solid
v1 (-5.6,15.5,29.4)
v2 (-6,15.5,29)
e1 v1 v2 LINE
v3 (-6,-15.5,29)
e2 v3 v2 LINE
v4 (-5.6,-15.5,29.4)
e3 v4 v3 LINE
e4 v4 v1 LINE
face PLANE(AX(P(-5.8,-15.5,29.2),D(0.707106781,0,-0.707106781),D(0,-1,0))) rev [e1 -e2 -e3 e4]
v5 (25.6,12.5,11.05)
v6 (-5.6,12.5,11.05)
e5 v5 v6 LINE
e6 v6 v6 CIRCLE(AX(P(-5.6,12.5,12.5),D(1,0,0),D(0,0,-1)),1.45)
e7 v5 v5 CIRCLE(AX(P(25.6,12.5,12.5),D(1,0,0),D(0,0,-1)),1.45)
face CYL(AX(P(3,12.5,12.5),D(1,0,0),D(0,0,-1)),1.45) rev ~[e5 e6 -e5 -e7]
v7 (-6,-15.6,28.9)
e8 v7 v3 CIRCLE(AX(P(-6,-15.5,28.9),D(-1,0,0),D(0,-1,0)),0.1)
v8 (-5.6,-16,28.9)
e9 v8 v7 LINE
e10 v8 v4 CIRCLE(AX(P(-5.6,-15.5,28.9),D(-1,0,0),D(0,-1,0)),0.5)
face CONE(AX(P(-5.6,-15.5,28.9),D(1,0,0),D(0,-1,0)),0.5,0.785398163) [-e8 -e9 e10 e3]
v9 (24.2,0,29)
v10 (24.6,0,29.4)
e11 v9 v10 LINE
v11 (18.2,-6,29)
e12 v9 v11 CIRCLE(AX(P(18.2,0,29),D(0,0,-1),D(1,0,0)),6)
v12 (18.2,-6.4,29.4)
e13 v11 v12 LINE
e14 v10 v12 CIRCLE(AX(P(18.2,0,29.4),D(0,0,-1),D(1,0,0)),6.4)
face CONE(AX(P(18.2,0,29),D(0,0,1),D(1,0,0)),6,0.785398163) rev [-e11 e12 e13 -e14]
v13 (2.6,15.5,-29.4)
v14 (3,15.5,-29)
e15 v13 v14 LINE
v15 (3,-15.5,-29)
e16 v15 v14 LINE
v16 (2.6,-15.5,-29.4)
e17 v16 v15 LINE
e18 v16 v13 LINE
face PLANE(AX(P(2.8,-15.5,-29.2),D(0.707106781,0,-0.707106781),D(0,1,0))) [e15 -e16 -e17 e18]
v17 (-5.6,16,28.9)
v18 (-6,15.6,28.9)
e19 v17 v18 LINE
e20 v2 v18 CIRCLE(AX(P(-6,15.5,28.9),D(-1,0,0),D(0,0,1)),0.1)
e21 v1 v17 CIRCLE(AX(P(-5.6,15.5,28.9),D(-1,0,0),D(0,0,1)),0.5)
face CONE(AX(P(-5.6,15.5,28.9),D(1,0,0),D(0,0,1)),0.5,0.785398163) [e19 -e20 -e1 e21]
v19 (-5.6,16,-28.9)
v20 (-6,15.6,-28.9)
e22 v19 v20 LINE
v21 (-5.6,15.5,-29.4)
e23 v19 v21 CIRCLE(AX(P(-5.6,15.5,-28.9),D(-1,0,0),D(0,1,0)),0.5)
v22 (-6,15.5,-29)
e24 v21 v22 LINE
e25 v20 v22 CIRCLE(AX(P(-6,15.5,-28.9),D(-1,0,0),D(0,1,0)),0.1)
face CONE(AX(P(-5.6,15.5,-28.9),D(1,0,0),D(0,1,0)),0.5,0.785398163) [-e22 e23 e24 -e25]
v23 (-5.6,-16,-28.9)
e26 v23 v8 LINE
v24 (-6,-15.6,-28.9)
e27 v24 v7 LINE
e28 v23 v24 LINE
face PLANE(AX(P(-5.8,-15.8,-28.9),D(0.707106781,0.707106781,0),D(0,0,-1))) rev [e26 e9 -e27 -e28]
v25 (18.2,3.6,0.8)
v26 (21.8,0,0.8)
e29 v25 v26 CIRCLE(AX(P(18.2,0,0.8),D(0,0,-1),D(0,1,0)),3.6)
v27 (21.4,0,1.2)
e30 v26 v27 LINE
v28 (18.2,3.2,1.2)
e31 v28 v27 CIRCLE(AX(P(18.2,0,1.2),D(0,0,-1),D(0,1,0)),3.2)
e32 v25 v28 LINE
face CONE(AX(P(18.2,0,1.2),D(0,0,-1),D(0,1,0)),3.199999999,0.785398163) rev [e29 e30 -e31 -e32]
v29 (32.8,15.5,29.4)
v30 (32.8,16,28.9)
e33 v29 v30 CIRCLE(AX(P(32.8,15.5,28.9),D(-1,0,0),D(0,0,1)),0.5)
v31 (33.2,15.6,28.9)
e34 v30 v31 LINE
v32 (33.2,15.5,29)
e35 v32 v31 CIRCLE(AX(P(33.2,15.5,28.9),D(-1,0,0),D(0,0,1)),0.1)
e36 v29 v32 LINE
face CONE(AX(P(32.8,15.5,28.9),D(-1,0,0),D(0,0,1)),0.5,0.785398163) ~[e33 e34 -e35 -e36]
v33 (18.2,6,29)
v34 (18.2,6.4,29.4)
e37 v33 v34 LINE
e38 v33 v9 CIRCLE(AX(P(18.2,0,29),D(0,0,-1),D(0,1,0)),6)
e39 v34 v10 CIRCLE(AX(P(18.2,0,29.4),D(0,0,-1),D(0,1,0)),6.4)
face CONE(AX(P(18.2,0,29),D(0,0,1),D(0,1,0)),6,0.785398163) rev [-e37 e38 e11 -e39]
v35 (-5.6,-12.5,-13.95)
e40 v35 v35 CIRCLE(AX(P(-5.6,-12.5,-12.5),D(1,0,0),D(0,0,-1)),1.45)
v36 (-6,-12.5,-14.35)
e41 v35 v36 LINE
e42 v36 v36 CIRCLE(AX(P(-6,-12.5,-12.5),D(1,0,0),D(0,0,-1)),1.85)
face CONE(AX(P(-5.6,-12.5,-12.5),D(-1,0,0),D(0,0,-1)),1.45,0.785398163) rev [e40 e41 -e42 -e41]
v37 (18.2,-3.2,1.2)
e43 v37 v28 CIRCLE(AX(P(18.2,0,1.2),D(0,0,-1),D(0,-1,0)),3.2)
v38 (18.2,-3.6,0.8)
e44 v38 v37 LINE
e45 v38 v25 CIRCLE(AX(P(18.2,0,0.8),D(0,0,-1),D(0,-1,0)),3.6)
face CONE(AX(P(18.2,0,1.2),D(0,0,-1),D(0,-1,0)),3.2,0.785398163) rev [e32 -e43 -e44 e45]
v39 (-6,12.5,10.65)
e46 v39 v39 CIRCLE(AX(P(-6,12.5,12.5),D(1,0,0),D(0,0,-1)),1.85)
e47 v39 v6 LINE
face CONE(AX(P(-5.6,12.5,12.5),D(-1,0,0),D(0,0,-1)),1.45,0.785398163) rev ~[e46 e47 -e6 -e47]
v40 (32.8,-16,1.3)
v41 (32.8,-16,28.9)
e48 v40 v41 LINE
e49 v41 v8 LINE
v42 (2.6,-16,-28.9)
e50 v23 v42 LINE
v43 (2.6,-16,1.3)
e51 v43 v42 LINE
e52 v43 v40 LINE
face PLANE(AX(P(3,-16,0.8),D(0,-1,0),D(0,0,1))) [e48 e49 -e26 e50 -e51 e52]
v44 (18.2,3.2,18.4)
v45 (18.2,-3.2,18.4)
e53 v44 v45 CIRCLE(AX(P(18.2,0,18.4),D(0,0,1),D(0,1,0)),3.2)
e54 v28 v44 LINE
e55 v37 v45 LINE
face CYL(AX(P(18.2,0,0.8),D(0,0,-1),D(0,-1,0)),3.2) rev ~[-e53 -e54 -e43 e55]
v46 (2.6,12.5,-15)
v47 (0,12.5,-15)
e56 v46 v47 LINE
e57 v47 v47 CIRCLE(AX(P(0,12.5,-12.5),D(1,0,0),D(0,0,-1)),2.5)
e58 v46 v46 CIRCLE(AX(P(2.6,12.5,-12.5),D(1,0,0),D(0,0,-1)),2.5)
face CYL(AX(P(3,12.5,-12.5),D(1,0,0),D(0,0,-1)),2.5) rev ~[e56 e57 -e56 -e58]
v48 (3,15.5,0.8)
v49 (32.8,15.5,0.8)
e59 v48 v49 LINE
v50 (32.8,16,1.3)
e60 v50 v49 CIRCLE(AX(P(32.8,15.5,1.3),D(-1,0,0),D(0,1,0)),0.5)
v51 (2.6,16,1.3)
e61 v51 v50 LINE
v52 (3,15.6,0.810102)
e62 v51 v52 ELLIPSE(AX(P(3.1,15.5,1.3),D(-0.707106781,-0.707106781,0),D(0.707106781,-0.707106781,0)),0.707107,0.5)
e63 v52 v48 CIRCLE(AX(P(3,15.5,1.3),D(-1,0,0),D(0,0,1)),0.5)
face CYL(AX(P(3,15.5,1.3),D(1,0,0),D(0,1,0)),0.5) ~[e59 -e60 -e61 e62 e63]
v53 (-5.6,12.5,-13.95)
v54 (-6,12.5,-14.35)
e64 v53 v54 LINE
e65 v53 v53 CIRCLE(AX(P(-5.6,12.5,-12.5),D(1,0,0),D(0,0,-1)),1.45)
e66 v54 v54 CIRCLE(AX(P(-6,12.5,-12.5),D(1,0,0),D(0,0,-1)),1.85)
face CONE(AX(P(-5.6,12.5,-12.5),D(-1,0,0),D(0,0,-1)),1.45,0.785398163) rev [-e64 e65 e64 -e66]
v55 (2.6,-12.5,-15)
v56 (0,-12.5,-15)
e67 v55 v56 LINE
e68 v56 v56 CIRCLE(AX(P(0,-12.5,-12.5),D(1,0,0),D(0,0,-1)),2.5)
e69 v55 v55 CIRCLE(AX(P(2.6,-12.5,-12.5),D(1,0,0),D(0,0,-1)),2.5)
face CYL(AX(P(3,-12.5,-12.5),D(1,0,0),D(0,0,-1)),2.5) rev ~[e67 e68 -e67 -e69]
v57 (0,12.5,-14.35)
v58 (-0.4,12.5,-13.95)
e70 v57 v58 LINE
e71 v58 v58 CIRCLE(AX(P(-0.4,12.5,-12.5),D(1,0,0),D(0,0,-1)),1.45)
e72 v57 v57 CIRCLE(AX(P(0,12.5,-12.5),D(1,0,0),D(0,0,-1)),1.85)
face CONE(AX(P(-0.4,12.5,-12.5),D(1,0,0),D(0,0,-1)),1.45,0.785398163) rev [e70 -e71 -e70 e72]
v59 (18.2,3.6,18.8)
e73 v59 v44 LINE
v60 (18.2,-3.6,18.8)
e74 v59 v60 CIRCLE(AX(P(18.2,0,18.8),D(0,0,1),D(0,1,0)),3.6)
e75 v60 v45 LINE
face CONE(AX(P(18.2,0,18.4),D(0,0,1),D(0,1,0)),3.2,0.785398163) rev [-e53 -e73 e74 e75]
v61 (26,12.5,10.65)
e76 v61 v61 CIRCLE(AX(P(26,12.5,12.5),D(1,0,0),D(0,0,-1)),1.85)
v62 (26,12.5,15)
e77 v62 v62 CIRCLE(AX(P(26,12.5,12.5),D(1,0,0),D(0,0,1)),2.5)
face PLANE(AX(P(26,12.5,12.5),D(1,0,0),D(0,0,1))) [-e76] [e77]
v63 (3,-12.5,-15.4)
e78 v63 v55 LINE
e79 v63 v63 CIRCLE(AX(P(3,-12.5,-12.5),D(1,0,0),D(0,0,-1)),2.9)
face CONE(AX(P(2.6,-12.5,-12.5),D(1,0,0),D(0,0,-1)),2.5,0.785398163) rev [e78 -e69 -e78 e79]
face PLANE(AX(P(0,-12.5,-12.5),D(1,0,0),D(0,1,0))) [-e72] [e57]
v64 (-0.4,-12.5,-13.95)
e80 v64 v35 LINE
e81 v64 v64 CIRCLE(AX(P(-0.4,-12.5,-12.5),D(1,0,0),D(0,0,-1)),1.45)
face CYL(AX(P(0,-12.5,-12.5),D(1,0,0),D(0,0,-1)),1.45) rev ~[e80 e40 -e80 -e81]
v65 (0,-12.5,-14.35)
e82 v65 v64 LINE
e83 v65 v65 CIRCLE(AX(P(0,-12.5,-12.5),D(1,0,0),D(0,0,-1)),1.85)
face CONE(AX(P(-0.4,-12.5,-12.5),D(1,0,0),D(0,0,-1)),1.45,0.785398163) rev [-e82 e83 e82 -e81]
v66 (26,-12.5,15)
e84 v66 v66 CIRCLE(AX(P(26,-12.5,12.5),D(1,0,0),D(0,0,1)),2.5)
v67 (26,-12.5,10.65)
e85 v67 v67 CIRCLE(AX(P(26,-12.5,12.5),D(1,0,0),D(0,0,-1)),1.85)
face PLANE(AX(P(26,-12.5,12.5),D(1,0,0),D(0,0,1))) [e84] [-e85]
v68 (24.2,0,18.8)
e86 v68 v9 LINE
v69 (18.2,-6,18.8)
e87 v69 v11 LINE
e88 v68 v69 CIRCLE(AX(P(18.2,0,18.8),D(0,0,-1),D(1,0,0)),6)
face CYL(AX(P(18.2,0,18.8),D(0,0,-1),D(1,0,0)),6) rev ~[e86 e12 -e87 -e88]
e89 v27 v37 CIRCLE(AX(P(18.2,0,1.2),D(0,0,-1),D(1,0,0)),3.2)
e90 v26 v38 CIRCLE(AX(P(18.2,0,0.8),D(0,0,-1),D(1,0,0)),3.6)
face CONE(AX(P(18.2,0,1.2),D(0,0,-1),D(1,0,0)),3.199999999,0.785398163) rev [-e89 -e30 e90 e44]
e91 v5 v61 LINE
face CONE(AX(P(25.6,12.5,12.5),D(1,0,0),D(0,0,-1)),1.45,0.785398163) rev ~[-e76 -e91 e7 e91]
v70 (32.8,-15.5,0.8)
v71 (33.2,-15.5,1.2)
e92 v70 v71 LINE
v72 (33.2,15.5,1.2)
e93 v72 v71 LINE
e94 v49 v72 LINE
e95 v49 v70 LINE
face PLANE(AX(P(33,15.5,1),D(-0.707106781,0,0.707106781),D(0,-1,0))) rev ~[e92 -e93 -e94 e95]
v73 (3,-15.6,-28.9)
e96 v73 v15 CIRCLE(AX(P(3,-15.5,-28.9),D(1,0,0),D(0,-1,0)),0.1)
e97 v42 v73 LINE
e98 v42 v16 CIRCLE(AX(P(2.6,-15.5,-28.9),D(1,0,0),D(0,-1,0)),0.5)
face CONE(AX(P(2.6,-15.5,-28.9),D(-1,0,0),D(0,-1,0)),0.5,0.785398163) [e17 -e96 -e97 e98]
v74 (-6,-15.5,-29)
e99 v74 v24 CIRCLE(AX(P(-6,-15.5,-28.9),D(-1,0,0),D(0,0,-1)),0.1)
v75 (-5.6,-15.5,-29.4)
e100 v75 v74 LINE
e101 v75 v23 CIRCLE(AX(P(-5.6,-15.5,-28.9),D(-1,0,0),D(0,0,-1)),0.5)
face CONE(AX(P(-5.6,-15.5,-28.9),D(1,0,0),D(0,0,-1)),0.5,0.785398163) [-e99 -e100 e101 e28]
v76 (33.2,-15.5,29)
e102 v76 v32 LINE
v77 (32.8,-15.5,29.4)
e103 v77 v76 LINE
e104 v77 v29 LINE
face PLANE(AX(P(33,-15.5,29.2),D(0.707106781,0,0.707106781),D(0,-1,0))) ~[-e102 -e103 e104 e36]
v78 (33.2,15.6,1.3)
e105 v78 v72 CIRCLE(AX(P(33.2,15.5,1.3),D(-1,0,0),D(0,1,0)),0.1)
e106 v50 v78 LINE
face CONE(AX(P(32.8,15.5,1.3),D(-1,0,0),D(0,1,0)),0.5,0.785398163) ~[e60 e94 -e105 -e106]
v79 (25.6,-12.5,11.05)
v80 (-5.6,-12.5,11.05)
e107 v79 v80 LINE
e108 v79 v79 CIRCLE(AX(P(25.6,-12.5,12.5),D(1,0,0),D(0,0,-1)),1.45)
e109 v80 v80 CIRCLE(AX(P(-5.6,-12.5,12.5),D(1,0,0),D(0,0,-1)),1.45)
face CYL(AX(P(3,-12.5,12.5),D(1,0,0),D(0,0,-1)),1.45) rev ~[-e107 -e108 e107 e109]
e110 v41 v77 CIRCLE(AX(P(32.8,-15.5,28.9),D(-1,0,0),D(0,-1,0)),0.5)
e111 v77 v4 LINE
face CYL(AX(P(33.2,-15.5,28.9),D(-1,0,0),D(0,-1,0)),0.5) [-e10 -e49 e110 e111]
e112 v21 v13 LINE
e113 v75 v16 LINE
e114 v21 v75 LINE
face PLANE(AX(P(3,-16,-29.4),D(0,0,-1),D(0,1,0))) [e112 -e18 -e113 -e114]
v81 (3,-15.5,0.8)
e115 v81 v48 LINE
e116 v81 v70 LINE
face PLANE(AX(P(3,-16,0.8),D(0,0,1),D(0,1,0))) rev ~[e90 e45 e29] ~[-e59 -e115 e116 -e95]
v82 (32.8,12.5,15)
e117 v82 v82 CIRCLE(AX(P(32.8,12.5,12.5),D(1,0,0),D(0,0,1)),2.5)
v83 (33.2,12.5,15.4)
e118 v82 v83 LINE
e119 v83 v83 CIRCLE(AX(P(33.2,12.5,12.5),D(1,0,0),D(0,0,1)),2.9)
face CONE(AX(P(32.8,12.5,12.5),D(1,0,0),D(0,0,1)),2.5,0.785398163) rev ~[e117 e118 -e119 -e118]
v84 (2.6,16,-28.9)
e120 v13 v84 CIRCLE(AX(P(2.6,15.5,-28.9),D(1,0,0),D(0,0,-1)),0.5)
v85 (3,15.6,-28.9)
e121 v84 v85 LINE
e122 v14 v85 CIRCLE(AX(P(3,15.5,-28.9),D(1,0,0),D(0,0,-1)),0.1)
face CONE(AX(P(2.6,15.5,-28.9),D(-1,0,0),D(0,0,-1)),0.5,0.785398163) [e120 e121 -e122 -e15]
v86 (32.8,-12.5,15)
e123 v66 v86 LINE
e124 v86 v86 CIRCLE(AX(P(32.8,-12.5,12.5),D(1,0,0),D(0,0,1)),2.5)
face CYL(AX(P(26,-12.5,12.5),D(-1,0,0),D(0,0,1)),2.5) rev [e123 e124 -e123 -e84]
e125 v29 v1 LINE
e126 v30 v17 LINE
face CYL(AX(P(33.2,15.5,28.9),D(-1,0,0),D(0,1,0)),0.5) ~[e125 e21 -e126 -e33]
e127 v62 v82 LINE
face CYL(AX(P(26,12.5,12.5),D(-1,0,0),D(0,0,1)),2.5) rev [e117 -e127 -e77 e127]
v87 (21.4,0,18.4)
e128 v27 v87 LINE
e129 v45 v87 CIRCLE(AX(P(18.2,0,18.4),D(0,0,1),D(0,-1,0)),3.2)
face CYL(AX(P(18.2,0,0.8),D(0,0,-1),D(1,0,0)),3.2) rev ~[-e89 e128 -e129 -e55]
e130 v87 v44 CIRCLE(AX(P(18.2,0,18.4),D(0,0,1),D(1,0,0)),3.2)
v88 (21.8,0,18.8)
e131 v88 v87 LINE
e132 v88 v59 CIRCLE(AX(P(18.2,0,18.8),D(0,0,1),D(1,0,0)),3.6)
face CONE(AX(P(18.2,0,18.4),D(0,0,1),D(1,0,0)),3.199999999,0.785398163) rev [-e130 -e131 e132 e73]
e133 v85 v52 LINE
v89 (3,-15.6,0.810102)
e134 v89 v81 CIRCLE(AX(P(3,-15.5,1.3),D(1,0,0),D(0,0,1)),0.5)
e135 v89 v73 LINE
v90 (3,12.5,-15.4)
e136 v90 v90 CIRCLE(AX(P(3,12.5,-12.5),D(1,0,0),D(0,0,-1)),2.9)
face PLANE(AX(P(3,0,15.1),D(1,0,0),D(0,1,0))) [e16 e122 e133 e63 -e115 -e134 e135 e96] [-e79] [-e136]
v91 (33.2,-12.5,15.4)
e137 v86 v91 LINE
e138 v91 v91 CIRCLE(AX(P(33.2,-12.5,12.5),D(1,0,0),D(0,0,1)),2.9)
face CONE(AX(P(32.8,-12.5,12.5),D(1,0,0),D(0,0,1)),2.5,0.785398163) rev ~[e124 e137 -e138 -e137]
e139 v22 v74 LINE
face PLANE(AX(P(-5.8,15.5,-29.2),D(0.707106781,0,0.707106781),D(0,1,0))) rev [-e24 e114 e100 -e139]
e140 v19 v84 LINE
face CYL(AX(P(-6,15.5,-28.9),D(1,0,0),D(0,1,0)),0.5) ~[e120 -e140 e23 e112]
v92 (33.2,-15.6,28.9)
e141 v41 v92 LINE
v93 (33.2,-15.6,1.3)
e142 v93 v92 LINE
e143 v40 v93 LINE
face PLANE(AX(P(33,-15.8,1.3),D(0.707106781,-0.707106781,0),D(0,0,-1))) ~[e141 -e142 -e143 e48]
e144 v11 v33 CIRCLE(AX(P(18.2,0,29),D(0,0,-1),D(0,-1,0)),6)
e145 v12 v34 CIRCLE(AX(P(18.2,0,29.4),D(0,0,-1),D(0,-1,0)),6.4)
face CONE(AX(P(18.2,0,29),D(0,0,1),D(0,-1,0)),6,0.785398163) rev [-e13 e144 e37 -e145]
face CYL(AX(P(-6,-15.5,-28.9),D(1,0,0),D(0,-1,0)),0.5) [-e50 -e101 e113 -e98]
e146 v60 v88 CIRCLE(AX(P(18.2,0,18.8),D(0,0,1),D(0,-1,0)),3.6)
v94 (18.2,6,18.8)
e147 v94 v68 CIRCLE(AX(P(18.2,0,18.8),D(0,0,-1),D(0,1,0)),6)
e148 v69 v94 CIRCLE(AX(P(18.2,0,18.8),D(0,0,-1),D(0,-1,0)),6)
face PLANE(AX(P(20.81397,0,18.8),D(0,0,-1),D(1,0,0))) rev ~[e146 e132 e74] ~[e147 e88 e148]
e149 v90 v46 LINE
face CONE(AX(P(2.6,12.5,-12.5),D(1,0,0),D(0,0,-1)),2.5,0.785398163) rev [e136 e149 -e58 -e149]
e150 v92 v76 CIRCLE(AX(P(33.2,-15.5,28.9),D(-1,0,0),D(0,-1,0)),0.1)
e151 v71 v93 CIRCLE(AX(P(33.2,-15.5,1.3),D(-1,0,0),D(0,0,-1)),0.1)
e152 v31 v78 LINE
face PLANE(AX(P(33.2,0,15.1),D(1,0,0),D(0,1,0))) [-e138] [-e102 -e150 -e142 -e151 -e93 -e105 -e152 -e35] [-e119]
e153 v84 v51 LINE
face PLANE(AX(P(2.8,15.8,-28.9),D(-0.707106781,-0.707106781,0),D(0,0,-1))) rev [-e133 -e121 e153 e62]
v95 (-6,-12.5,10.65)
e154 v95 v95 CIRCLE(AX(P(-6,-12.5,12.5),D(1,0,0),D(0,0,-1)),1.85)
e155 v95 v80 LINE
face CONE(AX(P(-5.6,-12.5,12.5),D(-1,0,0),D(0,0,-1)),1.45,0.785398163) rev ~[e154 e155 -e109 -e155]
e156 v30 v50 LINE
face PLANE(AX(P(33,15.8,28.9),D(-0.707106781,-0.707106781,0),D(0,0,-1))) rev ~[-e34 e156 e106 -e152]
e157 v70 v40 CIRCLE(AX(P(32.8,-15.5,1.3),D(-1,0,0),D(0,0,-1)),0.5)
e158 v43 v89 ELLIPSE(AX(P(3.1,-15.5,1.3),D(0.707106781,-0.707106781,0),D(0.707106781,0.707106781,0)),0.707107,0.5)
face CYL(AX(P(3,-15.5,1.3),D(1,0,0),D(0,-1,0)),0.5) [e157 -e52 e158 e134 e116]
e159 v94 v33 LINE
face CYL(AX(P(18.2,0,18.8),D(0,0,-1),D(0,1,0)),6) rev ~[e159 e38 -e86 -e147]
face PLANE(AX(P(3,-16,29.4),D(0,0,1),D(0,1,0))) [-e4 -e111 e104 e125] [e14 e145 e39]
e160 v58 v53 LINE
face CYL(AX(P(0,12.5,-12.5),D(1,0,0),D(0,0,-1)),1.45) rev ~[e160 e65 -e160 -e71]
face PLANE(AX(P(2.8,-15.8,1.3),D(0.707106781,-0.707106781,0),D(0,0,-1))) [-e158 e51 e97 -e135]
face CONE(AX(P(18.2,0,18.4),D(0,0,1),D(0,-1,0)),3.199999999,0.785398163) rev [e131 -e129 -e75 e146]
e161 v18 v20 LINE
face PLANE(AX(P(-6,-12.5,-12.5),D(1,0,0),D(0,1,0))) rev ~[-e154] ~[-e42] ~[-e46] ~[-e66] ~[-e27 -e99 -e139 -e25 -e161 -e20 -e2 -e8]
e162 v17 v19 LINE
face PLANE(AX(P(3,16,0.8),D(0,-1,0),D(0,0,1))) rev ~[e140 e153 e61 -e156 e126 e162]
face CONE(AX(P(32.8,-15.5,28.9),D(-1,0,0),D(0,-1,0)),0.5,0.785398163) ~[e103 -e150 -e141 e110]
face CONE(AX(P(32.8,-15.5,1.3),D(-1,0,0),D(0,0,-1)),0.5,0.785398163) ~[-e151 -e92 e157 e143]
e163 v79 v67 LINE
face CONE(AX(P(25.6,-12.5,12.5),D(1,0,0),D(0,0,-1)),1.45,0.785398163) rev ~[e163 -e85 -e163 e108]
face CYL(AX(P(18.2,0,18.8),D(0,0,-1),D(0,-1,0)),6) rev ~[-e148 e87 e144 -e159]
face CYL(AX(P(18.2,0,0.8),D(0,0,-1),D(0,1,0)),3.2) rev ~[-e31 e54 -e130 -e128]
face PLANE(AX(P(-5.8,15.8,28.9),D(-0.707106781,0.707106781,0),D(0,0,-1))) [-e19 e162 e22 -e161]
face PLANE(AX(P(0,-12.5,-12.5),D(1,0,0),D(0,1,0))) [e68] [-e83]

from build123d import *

# Parameters (mm, degrees)
SKETCH1_W           = 32
SKETCH1_H           = 28.6
SKETCH1_R           = 2.5
SKETCH1_H_2         = 30.2
SKETCH1_R_2         = 1.45
BOSS_EXTRUDE1_DEPTH = 6
BOSS_EXTRUDE2_START = 3
SKETCH1_4_W         = 32
SKETCH1_4_H         = 28.6
SKETCH1_4_R         = 2.5
SKETCH1_4_H_2       = 30.2
SKETCH1_4_R_2       = 1.45
BOSS_EXTRUDE2_DEPTH = 3
BOSS_EXTRUDE3_START = 3
SKETCH1_5_W         = 32
SKETCH1_5_H         = 28.6
SKETCH1_5_R         = 2.5
SKETCH1_5_R_2       = 1.45
BOSS_EXTRUDE3_DEPTH = 30.2
CUT_EXTRUDE1_DEPTH  = 48.647455336
CUT_EXTRUDE2_START  = -18
CUT_EXTRUDE2_DEPTH  = 30.647455336
CUT_EXTRUDE3_START  = 26
SKETCH1_6_R         = 2.5
SKETCH1_6_R_2       = 1.45
CUT_EXTRUDE3_DEPTH  = 7.2
FILLET1_R           = 0.5
CHAMFER1_SIZE       = 0.4


with BuildPart() as part:
    # Sketch1 → Boss-Extrude1 (new body)
    # profile 1 of 6: a face of its own
    with BuildSketch(Plane.YZ):
        with Locations((0, 15.1)):
            Rectangle(SKETCH1_W, SKETCH1_H)
        with Locations((-12.5, 12.5)):
            Circle(SKETCH1_R, mode=Mode.SUBTRACT)
        with Locations((12.5, 12.5)):
            Circle(SKETCH1_R, mode=Mode.SUBTRACT)
    # profile 2 of 6: a face of its own
    with BuildSketch(Plane.YZ):
        with Locations((0, -14.3)):
            Rectangle(SKETCH1_W, SKETCH1_H_2)
        with Locations((-12.5, -12.5)):
            Circle(SKETCH1_R, mode=Mode.SUBTRACT)
        with Locations((12.5, -12.5)):
            Circle(SKETCH1_R, mode=Mode.SUBTRACT)
    # profile 3 of 6: a face of its own
    with BuildSketch(Plane.YZ):
        with Locations((-12.5, 12.5)):
            Circle(SKETCH1_R)
        with Locations(Location((-12.5, 12.5, 0), (0, 0, 270))):
            Circle(SKETCH1_R_2, mode=Mode.SUBTRACT)
    # profile 4 of 6: a face of its own
    with BuildSketch(Plane.YZ):
        with Locations((12.5, 12.5)):
            Circle(SKETCH1_R)
        with Locations(Location((12.5, 12.5, 0), (0, 0, 270))):
            Circle(SKETCH1_R_2, mode=Mode.SUBTRACT)
    # profile 5 of 6: a face of its own
    with BuildSketch(Plane.YZ):
        with Locations((12.5, -12.5)):
            Circle(SKETCH1_R)
        with Locations(Location((12.5, -12.5, 0), (0, 0, 270))):
            Circle(SKETCH1_R_2, mode=Mode.SUBTRACT)
    # profile 6 of 6: a face of its own
    with BuildSketch(Plane.YZ):
        with Locations((-12.5, -12.5)):
            Circle(SKETCH1_R)
        with Locations(Location((-12.5, -12.5, 0), (0, 0, 270))):
            Circle(SKETCH1_R_2, mode=Mode.SUBTRACT)
    extrude(amount=-BOSS_EXTRUDE1_DEPTH)

    # Sketch1<4> → Boss-Extrude2 (add)
    # profile 1 of 4: a face of its own
    with BuildSketch(Plane.YZ.offset(BOSS_EXTRUDE2_START)):
        with Locations((0, 15.1)):
            Rectangle(SKETCH1_4_W, SKETCH1_4_H)
        with Locations((-12.5, 12.5)):
            Circle(SKETCH1_4_R, mode=Mode.SUBTRACT)
        with Locations((12.5, 12.5)):
            Circle(SKETCH1_4_R, mode=Mode.SUBTRACT)
    # profile 2 of 4: a face of its own
    with BuildSketch(Plane.YZ.offset(BOSS_EXTRUDE2_START)):
        with Locations((0, -14.3)):
            Rectangle(SKETCH1_4_W, SKETCH1_4_H_2)
        with Locations(Location((-12.5, -12.5, 0), (0, 0, 270))):
            Circle(SKETCH1_4_R, mode=Mode.SUBTRACT)
        with Locations(Location((12.5, -12.5, 0), (0, 0, 270))):
            Circle(SKETCH1_4_R, mode=Mode.SUBTRACT)
    # profile 3 of 4: a face of its own
    with BuildSketch(Plane.YZ.offset(BOSS_EXTRUDE2_START)):
        with Locations((12.5, 12.5)):
            Circle(SKETCH1_4_R)
        with Locations(Location((12.5, 12.5, 0), (0, 0, 270))):
            Circle(SKETCH1_4_R_2, mode=Mode.SUBTRACT)
    # profile 4 of 4: a face of its own
    with BuildSketch(Plane.YZ.offset(BOSS_EXTRUDE2_START)):
        with Locations((-12.5, 12.5)):
            Circle(SKETCH1_4_R)
        with Locations(Location((-12.5, 12.5, 0), (0, 0, 270))):
            Circle(SKETCH1_4_R_2, mode=Mode.SUBTRACT)
    extrude(amount=-BOSS_EXTRUDE2_DEPTH)

    # Sketch1<5> → Boss-Extrude3 (add)
    # profile 1 of 3: a face of its own
    with BuildSketch(Plane.YZ.offset(BOSS_EXTRUDE3_START)):
        with Locations((0, 15.1)):
            Rectangle(SKETCH1_5_W, SKETCH1_5_H)
        with Locations((-12.5, 12.5)):
            Circle(SKETCH1_5_R, mode=Mode.SUBTRACT)
        with Locations((12.5, 12.5)):
            Circle(SKETCH1_5_R, mode=Mode.SUBTRACT)
    # profile 2 of 3: a face of its own
    with BuildSketch(Plane.YZ.offset(BOSS_EXTRUDE3_START)):
        with Locations((-12.5, 12.5)):
            Circle(SKETCH1_5_R)
        with Locations(Location((-12.5, 12.5, 0), (0, 0, 270))):
            Circle(SKETCH1_5_R_2, mode=Mode.SUBTRACT)
    # profile 3 of 3: a face of its own
    with BuildSketch(Plane.YZ.offset(BOSS_EXTRUDE3_START)):
        with Locations((12.5, 12.5)):
            Circle(SKETCH1_5_R)
        with Locations(Location((12.5, 12.5, 0), (0, 0, 270))):
            Circle(SKETCH1_5_R_2, mode=Mode.SUBTRACT)
    extrude(amount=BOSS_EXTRUDE3_DEPTH)

    # Sketch2 → Cut-Extrude1 (cut, through all)
    with BuildSketch(Plane(origin=(0, 0, 0.8), x_dir=(1, 0, 0), z_dir=(0, 0, -1))):
        with BuildLine():
            ThreePointArc((21.4, 0), (20.4627417, 2.2627417), (18.2, 3.2))
            Line((18.2, 3.2), (18.2, -3.2))
            ThreePointArc((18.2, -3.2), (20.4627417, -2.2627417), (21.4, 0))
        make_face()
        with BuildLine():
            Line((18.2, -3.2), (18.2, 3.2))
            ThreePointArc((18.2, 3.2), (15, 0), (18.2, -3.2))
        make_face()
    extrude(amount=-CUT_EXTRUDE1_DEPTH, mode=Mode.SUBTRACT)

    # Sketch2<3> → Cut-Extrude2 (cut, through all)
    with BuildSketch(Plane(origin=(0, 0, 0.8), x_dir=(1, 0, 0), z_dir=(0, 0, -1)).offset(CUT_EXTRUDE2_START)):
        with BuildLine():
            ThreePointArc((24.2, 0), (22.442640687, 4.242640687), (18.2, 6))
            Line((18.2, 6), (18.2, 3.2))
            ThreePointArc((18.2, 3.2), (20.4627417, 2.2627417), (21.4, 0))
            ThreePointArc((21.4, 0), (20.4627417, -2.2627417), (18.2, -3.2))
            Line((18.2, -3.2), (18.2, -6))
            ThreePointArc((18.2, -6), (22.442640687, -4.242640687), (24.2, 0))
        make_face()
        with BuildLine():
            Line((18.2, 3.2), (18.2, 6))
            ThreePointArc((18.2, 6), (12.2, 0), (18.2, -6))
            Line((18.2, -6), (18.2, -3.2))
            ThreePointArc((18.2, -3.2), (15, 0), (18.2, 3.2))
        make_face()
    extrude(amount=-CUT_EXTRUDE2_DEPTH, mode=Mode.SUBTRACT)

    # Sketch1<6> → Cut-Extrude3 (cut)
    # profile 1 of 2: a face of its own
    with BuildSketch(Plane.YZ.offset(CUT_EXTRUDE3_START)):
        with Locations(Location((-12.5, 12.5, 0), (0, 0, 90))):
            Circle(SKETCH1_6_R)
        with Locations(Location((-12.5, 12.5, 0), (0, 0, 270))):
            Circle(SKETCH1_6_R_2, mode=Mode.SUBTRACT)
    # profile 2 of 2: a face of its own
    with BuildSketch(Plane.YZ.offset(CUT_EXTRUDE3_START)):
        with Locations(Location((12.5, 12.5, 0), (0, 0, 90))):
            Circle(SKETCH1_6_R)
        with Locations(Location((12.5, 12.5, 0), (0, 0, 270))):
            Circle(SKETCH1_6_R_2, mode=Mode.SUBTRACT)
    extrude(amount=CUT_EXTRUDE3_DEPTH, mode=Mode.SUBTRACT)

    # Fillet1
    fillet1_edges = [part.edges().sort_by_distance(p)[0] for p in [
        (13.6, -16, 29.4),
        (13.6, 16, 29.4),
        (-1.5, 16, -29.4),
        (-1.5, -16, -29.4),
        (18.1, -16, 0.8),
        (18.1, 16, 0.8),
    ]]
    fillet(fillet1_edges, radius=FILLET1_R)

    # Chamfer1
    chamfer1_edges = [part.edges().sort_by_distance(p)[0] for p in [
        (3, 16, -13.8),
        (-6, 16, 0),
        (33.2, -16, 15.1),
        (33.2, 0, 0.8),
        (0, -12.5, -11.05),
        (33.2, 0, 29.4),
        (33.2, -15.853553391, 0.946446609),
        (33.2, 15.853553391, 0.946446609),
        (33.2, -15.853553391, 29.253553391),
        (33.2, 15.853553391, 29.253553391),
        (-6, 0, 29.4),
        (0, 12.5, -11.05),
        (-6, -16, 0),
        (-6, 0, -29.4),
        (-6, -15.853553391, -29.253553391),
        (-6, 15.853553391, -29.253553391),
        (-6, -15.853553391, 29.253553391),
        (-6, 15.853553391, 29.253553391),
        (3, -16, -13.8),
        (3, 0, -29.4),
        (3, -15.853553391, -29.253553391),
        (3, 15.853553391, -29.253553391),
        (-6, -12.5, 13.95),
        (3, 12.5, -10),
        (3, -12.5, -10),
        (-6, 12.5, 13.95),
        (-6, 12.5, -11.05),
        (-6, -12.5, -11.05),
        (18.2, 3.2, 0.8),
        (18.2, 3.2, 18.8),
        (18.2, 6, 29.4),
        (33.2, -12.5, 10),
        (26, -12.5, 13.95),
        (33.2, 12.5, 10),
        (26, 12.5, 13.95),
        (33.2, 16, 15.1),
    ]]
    chamfer(chamfer1_edges, length=CHAMFER1_SIZE)


solid = part.part
